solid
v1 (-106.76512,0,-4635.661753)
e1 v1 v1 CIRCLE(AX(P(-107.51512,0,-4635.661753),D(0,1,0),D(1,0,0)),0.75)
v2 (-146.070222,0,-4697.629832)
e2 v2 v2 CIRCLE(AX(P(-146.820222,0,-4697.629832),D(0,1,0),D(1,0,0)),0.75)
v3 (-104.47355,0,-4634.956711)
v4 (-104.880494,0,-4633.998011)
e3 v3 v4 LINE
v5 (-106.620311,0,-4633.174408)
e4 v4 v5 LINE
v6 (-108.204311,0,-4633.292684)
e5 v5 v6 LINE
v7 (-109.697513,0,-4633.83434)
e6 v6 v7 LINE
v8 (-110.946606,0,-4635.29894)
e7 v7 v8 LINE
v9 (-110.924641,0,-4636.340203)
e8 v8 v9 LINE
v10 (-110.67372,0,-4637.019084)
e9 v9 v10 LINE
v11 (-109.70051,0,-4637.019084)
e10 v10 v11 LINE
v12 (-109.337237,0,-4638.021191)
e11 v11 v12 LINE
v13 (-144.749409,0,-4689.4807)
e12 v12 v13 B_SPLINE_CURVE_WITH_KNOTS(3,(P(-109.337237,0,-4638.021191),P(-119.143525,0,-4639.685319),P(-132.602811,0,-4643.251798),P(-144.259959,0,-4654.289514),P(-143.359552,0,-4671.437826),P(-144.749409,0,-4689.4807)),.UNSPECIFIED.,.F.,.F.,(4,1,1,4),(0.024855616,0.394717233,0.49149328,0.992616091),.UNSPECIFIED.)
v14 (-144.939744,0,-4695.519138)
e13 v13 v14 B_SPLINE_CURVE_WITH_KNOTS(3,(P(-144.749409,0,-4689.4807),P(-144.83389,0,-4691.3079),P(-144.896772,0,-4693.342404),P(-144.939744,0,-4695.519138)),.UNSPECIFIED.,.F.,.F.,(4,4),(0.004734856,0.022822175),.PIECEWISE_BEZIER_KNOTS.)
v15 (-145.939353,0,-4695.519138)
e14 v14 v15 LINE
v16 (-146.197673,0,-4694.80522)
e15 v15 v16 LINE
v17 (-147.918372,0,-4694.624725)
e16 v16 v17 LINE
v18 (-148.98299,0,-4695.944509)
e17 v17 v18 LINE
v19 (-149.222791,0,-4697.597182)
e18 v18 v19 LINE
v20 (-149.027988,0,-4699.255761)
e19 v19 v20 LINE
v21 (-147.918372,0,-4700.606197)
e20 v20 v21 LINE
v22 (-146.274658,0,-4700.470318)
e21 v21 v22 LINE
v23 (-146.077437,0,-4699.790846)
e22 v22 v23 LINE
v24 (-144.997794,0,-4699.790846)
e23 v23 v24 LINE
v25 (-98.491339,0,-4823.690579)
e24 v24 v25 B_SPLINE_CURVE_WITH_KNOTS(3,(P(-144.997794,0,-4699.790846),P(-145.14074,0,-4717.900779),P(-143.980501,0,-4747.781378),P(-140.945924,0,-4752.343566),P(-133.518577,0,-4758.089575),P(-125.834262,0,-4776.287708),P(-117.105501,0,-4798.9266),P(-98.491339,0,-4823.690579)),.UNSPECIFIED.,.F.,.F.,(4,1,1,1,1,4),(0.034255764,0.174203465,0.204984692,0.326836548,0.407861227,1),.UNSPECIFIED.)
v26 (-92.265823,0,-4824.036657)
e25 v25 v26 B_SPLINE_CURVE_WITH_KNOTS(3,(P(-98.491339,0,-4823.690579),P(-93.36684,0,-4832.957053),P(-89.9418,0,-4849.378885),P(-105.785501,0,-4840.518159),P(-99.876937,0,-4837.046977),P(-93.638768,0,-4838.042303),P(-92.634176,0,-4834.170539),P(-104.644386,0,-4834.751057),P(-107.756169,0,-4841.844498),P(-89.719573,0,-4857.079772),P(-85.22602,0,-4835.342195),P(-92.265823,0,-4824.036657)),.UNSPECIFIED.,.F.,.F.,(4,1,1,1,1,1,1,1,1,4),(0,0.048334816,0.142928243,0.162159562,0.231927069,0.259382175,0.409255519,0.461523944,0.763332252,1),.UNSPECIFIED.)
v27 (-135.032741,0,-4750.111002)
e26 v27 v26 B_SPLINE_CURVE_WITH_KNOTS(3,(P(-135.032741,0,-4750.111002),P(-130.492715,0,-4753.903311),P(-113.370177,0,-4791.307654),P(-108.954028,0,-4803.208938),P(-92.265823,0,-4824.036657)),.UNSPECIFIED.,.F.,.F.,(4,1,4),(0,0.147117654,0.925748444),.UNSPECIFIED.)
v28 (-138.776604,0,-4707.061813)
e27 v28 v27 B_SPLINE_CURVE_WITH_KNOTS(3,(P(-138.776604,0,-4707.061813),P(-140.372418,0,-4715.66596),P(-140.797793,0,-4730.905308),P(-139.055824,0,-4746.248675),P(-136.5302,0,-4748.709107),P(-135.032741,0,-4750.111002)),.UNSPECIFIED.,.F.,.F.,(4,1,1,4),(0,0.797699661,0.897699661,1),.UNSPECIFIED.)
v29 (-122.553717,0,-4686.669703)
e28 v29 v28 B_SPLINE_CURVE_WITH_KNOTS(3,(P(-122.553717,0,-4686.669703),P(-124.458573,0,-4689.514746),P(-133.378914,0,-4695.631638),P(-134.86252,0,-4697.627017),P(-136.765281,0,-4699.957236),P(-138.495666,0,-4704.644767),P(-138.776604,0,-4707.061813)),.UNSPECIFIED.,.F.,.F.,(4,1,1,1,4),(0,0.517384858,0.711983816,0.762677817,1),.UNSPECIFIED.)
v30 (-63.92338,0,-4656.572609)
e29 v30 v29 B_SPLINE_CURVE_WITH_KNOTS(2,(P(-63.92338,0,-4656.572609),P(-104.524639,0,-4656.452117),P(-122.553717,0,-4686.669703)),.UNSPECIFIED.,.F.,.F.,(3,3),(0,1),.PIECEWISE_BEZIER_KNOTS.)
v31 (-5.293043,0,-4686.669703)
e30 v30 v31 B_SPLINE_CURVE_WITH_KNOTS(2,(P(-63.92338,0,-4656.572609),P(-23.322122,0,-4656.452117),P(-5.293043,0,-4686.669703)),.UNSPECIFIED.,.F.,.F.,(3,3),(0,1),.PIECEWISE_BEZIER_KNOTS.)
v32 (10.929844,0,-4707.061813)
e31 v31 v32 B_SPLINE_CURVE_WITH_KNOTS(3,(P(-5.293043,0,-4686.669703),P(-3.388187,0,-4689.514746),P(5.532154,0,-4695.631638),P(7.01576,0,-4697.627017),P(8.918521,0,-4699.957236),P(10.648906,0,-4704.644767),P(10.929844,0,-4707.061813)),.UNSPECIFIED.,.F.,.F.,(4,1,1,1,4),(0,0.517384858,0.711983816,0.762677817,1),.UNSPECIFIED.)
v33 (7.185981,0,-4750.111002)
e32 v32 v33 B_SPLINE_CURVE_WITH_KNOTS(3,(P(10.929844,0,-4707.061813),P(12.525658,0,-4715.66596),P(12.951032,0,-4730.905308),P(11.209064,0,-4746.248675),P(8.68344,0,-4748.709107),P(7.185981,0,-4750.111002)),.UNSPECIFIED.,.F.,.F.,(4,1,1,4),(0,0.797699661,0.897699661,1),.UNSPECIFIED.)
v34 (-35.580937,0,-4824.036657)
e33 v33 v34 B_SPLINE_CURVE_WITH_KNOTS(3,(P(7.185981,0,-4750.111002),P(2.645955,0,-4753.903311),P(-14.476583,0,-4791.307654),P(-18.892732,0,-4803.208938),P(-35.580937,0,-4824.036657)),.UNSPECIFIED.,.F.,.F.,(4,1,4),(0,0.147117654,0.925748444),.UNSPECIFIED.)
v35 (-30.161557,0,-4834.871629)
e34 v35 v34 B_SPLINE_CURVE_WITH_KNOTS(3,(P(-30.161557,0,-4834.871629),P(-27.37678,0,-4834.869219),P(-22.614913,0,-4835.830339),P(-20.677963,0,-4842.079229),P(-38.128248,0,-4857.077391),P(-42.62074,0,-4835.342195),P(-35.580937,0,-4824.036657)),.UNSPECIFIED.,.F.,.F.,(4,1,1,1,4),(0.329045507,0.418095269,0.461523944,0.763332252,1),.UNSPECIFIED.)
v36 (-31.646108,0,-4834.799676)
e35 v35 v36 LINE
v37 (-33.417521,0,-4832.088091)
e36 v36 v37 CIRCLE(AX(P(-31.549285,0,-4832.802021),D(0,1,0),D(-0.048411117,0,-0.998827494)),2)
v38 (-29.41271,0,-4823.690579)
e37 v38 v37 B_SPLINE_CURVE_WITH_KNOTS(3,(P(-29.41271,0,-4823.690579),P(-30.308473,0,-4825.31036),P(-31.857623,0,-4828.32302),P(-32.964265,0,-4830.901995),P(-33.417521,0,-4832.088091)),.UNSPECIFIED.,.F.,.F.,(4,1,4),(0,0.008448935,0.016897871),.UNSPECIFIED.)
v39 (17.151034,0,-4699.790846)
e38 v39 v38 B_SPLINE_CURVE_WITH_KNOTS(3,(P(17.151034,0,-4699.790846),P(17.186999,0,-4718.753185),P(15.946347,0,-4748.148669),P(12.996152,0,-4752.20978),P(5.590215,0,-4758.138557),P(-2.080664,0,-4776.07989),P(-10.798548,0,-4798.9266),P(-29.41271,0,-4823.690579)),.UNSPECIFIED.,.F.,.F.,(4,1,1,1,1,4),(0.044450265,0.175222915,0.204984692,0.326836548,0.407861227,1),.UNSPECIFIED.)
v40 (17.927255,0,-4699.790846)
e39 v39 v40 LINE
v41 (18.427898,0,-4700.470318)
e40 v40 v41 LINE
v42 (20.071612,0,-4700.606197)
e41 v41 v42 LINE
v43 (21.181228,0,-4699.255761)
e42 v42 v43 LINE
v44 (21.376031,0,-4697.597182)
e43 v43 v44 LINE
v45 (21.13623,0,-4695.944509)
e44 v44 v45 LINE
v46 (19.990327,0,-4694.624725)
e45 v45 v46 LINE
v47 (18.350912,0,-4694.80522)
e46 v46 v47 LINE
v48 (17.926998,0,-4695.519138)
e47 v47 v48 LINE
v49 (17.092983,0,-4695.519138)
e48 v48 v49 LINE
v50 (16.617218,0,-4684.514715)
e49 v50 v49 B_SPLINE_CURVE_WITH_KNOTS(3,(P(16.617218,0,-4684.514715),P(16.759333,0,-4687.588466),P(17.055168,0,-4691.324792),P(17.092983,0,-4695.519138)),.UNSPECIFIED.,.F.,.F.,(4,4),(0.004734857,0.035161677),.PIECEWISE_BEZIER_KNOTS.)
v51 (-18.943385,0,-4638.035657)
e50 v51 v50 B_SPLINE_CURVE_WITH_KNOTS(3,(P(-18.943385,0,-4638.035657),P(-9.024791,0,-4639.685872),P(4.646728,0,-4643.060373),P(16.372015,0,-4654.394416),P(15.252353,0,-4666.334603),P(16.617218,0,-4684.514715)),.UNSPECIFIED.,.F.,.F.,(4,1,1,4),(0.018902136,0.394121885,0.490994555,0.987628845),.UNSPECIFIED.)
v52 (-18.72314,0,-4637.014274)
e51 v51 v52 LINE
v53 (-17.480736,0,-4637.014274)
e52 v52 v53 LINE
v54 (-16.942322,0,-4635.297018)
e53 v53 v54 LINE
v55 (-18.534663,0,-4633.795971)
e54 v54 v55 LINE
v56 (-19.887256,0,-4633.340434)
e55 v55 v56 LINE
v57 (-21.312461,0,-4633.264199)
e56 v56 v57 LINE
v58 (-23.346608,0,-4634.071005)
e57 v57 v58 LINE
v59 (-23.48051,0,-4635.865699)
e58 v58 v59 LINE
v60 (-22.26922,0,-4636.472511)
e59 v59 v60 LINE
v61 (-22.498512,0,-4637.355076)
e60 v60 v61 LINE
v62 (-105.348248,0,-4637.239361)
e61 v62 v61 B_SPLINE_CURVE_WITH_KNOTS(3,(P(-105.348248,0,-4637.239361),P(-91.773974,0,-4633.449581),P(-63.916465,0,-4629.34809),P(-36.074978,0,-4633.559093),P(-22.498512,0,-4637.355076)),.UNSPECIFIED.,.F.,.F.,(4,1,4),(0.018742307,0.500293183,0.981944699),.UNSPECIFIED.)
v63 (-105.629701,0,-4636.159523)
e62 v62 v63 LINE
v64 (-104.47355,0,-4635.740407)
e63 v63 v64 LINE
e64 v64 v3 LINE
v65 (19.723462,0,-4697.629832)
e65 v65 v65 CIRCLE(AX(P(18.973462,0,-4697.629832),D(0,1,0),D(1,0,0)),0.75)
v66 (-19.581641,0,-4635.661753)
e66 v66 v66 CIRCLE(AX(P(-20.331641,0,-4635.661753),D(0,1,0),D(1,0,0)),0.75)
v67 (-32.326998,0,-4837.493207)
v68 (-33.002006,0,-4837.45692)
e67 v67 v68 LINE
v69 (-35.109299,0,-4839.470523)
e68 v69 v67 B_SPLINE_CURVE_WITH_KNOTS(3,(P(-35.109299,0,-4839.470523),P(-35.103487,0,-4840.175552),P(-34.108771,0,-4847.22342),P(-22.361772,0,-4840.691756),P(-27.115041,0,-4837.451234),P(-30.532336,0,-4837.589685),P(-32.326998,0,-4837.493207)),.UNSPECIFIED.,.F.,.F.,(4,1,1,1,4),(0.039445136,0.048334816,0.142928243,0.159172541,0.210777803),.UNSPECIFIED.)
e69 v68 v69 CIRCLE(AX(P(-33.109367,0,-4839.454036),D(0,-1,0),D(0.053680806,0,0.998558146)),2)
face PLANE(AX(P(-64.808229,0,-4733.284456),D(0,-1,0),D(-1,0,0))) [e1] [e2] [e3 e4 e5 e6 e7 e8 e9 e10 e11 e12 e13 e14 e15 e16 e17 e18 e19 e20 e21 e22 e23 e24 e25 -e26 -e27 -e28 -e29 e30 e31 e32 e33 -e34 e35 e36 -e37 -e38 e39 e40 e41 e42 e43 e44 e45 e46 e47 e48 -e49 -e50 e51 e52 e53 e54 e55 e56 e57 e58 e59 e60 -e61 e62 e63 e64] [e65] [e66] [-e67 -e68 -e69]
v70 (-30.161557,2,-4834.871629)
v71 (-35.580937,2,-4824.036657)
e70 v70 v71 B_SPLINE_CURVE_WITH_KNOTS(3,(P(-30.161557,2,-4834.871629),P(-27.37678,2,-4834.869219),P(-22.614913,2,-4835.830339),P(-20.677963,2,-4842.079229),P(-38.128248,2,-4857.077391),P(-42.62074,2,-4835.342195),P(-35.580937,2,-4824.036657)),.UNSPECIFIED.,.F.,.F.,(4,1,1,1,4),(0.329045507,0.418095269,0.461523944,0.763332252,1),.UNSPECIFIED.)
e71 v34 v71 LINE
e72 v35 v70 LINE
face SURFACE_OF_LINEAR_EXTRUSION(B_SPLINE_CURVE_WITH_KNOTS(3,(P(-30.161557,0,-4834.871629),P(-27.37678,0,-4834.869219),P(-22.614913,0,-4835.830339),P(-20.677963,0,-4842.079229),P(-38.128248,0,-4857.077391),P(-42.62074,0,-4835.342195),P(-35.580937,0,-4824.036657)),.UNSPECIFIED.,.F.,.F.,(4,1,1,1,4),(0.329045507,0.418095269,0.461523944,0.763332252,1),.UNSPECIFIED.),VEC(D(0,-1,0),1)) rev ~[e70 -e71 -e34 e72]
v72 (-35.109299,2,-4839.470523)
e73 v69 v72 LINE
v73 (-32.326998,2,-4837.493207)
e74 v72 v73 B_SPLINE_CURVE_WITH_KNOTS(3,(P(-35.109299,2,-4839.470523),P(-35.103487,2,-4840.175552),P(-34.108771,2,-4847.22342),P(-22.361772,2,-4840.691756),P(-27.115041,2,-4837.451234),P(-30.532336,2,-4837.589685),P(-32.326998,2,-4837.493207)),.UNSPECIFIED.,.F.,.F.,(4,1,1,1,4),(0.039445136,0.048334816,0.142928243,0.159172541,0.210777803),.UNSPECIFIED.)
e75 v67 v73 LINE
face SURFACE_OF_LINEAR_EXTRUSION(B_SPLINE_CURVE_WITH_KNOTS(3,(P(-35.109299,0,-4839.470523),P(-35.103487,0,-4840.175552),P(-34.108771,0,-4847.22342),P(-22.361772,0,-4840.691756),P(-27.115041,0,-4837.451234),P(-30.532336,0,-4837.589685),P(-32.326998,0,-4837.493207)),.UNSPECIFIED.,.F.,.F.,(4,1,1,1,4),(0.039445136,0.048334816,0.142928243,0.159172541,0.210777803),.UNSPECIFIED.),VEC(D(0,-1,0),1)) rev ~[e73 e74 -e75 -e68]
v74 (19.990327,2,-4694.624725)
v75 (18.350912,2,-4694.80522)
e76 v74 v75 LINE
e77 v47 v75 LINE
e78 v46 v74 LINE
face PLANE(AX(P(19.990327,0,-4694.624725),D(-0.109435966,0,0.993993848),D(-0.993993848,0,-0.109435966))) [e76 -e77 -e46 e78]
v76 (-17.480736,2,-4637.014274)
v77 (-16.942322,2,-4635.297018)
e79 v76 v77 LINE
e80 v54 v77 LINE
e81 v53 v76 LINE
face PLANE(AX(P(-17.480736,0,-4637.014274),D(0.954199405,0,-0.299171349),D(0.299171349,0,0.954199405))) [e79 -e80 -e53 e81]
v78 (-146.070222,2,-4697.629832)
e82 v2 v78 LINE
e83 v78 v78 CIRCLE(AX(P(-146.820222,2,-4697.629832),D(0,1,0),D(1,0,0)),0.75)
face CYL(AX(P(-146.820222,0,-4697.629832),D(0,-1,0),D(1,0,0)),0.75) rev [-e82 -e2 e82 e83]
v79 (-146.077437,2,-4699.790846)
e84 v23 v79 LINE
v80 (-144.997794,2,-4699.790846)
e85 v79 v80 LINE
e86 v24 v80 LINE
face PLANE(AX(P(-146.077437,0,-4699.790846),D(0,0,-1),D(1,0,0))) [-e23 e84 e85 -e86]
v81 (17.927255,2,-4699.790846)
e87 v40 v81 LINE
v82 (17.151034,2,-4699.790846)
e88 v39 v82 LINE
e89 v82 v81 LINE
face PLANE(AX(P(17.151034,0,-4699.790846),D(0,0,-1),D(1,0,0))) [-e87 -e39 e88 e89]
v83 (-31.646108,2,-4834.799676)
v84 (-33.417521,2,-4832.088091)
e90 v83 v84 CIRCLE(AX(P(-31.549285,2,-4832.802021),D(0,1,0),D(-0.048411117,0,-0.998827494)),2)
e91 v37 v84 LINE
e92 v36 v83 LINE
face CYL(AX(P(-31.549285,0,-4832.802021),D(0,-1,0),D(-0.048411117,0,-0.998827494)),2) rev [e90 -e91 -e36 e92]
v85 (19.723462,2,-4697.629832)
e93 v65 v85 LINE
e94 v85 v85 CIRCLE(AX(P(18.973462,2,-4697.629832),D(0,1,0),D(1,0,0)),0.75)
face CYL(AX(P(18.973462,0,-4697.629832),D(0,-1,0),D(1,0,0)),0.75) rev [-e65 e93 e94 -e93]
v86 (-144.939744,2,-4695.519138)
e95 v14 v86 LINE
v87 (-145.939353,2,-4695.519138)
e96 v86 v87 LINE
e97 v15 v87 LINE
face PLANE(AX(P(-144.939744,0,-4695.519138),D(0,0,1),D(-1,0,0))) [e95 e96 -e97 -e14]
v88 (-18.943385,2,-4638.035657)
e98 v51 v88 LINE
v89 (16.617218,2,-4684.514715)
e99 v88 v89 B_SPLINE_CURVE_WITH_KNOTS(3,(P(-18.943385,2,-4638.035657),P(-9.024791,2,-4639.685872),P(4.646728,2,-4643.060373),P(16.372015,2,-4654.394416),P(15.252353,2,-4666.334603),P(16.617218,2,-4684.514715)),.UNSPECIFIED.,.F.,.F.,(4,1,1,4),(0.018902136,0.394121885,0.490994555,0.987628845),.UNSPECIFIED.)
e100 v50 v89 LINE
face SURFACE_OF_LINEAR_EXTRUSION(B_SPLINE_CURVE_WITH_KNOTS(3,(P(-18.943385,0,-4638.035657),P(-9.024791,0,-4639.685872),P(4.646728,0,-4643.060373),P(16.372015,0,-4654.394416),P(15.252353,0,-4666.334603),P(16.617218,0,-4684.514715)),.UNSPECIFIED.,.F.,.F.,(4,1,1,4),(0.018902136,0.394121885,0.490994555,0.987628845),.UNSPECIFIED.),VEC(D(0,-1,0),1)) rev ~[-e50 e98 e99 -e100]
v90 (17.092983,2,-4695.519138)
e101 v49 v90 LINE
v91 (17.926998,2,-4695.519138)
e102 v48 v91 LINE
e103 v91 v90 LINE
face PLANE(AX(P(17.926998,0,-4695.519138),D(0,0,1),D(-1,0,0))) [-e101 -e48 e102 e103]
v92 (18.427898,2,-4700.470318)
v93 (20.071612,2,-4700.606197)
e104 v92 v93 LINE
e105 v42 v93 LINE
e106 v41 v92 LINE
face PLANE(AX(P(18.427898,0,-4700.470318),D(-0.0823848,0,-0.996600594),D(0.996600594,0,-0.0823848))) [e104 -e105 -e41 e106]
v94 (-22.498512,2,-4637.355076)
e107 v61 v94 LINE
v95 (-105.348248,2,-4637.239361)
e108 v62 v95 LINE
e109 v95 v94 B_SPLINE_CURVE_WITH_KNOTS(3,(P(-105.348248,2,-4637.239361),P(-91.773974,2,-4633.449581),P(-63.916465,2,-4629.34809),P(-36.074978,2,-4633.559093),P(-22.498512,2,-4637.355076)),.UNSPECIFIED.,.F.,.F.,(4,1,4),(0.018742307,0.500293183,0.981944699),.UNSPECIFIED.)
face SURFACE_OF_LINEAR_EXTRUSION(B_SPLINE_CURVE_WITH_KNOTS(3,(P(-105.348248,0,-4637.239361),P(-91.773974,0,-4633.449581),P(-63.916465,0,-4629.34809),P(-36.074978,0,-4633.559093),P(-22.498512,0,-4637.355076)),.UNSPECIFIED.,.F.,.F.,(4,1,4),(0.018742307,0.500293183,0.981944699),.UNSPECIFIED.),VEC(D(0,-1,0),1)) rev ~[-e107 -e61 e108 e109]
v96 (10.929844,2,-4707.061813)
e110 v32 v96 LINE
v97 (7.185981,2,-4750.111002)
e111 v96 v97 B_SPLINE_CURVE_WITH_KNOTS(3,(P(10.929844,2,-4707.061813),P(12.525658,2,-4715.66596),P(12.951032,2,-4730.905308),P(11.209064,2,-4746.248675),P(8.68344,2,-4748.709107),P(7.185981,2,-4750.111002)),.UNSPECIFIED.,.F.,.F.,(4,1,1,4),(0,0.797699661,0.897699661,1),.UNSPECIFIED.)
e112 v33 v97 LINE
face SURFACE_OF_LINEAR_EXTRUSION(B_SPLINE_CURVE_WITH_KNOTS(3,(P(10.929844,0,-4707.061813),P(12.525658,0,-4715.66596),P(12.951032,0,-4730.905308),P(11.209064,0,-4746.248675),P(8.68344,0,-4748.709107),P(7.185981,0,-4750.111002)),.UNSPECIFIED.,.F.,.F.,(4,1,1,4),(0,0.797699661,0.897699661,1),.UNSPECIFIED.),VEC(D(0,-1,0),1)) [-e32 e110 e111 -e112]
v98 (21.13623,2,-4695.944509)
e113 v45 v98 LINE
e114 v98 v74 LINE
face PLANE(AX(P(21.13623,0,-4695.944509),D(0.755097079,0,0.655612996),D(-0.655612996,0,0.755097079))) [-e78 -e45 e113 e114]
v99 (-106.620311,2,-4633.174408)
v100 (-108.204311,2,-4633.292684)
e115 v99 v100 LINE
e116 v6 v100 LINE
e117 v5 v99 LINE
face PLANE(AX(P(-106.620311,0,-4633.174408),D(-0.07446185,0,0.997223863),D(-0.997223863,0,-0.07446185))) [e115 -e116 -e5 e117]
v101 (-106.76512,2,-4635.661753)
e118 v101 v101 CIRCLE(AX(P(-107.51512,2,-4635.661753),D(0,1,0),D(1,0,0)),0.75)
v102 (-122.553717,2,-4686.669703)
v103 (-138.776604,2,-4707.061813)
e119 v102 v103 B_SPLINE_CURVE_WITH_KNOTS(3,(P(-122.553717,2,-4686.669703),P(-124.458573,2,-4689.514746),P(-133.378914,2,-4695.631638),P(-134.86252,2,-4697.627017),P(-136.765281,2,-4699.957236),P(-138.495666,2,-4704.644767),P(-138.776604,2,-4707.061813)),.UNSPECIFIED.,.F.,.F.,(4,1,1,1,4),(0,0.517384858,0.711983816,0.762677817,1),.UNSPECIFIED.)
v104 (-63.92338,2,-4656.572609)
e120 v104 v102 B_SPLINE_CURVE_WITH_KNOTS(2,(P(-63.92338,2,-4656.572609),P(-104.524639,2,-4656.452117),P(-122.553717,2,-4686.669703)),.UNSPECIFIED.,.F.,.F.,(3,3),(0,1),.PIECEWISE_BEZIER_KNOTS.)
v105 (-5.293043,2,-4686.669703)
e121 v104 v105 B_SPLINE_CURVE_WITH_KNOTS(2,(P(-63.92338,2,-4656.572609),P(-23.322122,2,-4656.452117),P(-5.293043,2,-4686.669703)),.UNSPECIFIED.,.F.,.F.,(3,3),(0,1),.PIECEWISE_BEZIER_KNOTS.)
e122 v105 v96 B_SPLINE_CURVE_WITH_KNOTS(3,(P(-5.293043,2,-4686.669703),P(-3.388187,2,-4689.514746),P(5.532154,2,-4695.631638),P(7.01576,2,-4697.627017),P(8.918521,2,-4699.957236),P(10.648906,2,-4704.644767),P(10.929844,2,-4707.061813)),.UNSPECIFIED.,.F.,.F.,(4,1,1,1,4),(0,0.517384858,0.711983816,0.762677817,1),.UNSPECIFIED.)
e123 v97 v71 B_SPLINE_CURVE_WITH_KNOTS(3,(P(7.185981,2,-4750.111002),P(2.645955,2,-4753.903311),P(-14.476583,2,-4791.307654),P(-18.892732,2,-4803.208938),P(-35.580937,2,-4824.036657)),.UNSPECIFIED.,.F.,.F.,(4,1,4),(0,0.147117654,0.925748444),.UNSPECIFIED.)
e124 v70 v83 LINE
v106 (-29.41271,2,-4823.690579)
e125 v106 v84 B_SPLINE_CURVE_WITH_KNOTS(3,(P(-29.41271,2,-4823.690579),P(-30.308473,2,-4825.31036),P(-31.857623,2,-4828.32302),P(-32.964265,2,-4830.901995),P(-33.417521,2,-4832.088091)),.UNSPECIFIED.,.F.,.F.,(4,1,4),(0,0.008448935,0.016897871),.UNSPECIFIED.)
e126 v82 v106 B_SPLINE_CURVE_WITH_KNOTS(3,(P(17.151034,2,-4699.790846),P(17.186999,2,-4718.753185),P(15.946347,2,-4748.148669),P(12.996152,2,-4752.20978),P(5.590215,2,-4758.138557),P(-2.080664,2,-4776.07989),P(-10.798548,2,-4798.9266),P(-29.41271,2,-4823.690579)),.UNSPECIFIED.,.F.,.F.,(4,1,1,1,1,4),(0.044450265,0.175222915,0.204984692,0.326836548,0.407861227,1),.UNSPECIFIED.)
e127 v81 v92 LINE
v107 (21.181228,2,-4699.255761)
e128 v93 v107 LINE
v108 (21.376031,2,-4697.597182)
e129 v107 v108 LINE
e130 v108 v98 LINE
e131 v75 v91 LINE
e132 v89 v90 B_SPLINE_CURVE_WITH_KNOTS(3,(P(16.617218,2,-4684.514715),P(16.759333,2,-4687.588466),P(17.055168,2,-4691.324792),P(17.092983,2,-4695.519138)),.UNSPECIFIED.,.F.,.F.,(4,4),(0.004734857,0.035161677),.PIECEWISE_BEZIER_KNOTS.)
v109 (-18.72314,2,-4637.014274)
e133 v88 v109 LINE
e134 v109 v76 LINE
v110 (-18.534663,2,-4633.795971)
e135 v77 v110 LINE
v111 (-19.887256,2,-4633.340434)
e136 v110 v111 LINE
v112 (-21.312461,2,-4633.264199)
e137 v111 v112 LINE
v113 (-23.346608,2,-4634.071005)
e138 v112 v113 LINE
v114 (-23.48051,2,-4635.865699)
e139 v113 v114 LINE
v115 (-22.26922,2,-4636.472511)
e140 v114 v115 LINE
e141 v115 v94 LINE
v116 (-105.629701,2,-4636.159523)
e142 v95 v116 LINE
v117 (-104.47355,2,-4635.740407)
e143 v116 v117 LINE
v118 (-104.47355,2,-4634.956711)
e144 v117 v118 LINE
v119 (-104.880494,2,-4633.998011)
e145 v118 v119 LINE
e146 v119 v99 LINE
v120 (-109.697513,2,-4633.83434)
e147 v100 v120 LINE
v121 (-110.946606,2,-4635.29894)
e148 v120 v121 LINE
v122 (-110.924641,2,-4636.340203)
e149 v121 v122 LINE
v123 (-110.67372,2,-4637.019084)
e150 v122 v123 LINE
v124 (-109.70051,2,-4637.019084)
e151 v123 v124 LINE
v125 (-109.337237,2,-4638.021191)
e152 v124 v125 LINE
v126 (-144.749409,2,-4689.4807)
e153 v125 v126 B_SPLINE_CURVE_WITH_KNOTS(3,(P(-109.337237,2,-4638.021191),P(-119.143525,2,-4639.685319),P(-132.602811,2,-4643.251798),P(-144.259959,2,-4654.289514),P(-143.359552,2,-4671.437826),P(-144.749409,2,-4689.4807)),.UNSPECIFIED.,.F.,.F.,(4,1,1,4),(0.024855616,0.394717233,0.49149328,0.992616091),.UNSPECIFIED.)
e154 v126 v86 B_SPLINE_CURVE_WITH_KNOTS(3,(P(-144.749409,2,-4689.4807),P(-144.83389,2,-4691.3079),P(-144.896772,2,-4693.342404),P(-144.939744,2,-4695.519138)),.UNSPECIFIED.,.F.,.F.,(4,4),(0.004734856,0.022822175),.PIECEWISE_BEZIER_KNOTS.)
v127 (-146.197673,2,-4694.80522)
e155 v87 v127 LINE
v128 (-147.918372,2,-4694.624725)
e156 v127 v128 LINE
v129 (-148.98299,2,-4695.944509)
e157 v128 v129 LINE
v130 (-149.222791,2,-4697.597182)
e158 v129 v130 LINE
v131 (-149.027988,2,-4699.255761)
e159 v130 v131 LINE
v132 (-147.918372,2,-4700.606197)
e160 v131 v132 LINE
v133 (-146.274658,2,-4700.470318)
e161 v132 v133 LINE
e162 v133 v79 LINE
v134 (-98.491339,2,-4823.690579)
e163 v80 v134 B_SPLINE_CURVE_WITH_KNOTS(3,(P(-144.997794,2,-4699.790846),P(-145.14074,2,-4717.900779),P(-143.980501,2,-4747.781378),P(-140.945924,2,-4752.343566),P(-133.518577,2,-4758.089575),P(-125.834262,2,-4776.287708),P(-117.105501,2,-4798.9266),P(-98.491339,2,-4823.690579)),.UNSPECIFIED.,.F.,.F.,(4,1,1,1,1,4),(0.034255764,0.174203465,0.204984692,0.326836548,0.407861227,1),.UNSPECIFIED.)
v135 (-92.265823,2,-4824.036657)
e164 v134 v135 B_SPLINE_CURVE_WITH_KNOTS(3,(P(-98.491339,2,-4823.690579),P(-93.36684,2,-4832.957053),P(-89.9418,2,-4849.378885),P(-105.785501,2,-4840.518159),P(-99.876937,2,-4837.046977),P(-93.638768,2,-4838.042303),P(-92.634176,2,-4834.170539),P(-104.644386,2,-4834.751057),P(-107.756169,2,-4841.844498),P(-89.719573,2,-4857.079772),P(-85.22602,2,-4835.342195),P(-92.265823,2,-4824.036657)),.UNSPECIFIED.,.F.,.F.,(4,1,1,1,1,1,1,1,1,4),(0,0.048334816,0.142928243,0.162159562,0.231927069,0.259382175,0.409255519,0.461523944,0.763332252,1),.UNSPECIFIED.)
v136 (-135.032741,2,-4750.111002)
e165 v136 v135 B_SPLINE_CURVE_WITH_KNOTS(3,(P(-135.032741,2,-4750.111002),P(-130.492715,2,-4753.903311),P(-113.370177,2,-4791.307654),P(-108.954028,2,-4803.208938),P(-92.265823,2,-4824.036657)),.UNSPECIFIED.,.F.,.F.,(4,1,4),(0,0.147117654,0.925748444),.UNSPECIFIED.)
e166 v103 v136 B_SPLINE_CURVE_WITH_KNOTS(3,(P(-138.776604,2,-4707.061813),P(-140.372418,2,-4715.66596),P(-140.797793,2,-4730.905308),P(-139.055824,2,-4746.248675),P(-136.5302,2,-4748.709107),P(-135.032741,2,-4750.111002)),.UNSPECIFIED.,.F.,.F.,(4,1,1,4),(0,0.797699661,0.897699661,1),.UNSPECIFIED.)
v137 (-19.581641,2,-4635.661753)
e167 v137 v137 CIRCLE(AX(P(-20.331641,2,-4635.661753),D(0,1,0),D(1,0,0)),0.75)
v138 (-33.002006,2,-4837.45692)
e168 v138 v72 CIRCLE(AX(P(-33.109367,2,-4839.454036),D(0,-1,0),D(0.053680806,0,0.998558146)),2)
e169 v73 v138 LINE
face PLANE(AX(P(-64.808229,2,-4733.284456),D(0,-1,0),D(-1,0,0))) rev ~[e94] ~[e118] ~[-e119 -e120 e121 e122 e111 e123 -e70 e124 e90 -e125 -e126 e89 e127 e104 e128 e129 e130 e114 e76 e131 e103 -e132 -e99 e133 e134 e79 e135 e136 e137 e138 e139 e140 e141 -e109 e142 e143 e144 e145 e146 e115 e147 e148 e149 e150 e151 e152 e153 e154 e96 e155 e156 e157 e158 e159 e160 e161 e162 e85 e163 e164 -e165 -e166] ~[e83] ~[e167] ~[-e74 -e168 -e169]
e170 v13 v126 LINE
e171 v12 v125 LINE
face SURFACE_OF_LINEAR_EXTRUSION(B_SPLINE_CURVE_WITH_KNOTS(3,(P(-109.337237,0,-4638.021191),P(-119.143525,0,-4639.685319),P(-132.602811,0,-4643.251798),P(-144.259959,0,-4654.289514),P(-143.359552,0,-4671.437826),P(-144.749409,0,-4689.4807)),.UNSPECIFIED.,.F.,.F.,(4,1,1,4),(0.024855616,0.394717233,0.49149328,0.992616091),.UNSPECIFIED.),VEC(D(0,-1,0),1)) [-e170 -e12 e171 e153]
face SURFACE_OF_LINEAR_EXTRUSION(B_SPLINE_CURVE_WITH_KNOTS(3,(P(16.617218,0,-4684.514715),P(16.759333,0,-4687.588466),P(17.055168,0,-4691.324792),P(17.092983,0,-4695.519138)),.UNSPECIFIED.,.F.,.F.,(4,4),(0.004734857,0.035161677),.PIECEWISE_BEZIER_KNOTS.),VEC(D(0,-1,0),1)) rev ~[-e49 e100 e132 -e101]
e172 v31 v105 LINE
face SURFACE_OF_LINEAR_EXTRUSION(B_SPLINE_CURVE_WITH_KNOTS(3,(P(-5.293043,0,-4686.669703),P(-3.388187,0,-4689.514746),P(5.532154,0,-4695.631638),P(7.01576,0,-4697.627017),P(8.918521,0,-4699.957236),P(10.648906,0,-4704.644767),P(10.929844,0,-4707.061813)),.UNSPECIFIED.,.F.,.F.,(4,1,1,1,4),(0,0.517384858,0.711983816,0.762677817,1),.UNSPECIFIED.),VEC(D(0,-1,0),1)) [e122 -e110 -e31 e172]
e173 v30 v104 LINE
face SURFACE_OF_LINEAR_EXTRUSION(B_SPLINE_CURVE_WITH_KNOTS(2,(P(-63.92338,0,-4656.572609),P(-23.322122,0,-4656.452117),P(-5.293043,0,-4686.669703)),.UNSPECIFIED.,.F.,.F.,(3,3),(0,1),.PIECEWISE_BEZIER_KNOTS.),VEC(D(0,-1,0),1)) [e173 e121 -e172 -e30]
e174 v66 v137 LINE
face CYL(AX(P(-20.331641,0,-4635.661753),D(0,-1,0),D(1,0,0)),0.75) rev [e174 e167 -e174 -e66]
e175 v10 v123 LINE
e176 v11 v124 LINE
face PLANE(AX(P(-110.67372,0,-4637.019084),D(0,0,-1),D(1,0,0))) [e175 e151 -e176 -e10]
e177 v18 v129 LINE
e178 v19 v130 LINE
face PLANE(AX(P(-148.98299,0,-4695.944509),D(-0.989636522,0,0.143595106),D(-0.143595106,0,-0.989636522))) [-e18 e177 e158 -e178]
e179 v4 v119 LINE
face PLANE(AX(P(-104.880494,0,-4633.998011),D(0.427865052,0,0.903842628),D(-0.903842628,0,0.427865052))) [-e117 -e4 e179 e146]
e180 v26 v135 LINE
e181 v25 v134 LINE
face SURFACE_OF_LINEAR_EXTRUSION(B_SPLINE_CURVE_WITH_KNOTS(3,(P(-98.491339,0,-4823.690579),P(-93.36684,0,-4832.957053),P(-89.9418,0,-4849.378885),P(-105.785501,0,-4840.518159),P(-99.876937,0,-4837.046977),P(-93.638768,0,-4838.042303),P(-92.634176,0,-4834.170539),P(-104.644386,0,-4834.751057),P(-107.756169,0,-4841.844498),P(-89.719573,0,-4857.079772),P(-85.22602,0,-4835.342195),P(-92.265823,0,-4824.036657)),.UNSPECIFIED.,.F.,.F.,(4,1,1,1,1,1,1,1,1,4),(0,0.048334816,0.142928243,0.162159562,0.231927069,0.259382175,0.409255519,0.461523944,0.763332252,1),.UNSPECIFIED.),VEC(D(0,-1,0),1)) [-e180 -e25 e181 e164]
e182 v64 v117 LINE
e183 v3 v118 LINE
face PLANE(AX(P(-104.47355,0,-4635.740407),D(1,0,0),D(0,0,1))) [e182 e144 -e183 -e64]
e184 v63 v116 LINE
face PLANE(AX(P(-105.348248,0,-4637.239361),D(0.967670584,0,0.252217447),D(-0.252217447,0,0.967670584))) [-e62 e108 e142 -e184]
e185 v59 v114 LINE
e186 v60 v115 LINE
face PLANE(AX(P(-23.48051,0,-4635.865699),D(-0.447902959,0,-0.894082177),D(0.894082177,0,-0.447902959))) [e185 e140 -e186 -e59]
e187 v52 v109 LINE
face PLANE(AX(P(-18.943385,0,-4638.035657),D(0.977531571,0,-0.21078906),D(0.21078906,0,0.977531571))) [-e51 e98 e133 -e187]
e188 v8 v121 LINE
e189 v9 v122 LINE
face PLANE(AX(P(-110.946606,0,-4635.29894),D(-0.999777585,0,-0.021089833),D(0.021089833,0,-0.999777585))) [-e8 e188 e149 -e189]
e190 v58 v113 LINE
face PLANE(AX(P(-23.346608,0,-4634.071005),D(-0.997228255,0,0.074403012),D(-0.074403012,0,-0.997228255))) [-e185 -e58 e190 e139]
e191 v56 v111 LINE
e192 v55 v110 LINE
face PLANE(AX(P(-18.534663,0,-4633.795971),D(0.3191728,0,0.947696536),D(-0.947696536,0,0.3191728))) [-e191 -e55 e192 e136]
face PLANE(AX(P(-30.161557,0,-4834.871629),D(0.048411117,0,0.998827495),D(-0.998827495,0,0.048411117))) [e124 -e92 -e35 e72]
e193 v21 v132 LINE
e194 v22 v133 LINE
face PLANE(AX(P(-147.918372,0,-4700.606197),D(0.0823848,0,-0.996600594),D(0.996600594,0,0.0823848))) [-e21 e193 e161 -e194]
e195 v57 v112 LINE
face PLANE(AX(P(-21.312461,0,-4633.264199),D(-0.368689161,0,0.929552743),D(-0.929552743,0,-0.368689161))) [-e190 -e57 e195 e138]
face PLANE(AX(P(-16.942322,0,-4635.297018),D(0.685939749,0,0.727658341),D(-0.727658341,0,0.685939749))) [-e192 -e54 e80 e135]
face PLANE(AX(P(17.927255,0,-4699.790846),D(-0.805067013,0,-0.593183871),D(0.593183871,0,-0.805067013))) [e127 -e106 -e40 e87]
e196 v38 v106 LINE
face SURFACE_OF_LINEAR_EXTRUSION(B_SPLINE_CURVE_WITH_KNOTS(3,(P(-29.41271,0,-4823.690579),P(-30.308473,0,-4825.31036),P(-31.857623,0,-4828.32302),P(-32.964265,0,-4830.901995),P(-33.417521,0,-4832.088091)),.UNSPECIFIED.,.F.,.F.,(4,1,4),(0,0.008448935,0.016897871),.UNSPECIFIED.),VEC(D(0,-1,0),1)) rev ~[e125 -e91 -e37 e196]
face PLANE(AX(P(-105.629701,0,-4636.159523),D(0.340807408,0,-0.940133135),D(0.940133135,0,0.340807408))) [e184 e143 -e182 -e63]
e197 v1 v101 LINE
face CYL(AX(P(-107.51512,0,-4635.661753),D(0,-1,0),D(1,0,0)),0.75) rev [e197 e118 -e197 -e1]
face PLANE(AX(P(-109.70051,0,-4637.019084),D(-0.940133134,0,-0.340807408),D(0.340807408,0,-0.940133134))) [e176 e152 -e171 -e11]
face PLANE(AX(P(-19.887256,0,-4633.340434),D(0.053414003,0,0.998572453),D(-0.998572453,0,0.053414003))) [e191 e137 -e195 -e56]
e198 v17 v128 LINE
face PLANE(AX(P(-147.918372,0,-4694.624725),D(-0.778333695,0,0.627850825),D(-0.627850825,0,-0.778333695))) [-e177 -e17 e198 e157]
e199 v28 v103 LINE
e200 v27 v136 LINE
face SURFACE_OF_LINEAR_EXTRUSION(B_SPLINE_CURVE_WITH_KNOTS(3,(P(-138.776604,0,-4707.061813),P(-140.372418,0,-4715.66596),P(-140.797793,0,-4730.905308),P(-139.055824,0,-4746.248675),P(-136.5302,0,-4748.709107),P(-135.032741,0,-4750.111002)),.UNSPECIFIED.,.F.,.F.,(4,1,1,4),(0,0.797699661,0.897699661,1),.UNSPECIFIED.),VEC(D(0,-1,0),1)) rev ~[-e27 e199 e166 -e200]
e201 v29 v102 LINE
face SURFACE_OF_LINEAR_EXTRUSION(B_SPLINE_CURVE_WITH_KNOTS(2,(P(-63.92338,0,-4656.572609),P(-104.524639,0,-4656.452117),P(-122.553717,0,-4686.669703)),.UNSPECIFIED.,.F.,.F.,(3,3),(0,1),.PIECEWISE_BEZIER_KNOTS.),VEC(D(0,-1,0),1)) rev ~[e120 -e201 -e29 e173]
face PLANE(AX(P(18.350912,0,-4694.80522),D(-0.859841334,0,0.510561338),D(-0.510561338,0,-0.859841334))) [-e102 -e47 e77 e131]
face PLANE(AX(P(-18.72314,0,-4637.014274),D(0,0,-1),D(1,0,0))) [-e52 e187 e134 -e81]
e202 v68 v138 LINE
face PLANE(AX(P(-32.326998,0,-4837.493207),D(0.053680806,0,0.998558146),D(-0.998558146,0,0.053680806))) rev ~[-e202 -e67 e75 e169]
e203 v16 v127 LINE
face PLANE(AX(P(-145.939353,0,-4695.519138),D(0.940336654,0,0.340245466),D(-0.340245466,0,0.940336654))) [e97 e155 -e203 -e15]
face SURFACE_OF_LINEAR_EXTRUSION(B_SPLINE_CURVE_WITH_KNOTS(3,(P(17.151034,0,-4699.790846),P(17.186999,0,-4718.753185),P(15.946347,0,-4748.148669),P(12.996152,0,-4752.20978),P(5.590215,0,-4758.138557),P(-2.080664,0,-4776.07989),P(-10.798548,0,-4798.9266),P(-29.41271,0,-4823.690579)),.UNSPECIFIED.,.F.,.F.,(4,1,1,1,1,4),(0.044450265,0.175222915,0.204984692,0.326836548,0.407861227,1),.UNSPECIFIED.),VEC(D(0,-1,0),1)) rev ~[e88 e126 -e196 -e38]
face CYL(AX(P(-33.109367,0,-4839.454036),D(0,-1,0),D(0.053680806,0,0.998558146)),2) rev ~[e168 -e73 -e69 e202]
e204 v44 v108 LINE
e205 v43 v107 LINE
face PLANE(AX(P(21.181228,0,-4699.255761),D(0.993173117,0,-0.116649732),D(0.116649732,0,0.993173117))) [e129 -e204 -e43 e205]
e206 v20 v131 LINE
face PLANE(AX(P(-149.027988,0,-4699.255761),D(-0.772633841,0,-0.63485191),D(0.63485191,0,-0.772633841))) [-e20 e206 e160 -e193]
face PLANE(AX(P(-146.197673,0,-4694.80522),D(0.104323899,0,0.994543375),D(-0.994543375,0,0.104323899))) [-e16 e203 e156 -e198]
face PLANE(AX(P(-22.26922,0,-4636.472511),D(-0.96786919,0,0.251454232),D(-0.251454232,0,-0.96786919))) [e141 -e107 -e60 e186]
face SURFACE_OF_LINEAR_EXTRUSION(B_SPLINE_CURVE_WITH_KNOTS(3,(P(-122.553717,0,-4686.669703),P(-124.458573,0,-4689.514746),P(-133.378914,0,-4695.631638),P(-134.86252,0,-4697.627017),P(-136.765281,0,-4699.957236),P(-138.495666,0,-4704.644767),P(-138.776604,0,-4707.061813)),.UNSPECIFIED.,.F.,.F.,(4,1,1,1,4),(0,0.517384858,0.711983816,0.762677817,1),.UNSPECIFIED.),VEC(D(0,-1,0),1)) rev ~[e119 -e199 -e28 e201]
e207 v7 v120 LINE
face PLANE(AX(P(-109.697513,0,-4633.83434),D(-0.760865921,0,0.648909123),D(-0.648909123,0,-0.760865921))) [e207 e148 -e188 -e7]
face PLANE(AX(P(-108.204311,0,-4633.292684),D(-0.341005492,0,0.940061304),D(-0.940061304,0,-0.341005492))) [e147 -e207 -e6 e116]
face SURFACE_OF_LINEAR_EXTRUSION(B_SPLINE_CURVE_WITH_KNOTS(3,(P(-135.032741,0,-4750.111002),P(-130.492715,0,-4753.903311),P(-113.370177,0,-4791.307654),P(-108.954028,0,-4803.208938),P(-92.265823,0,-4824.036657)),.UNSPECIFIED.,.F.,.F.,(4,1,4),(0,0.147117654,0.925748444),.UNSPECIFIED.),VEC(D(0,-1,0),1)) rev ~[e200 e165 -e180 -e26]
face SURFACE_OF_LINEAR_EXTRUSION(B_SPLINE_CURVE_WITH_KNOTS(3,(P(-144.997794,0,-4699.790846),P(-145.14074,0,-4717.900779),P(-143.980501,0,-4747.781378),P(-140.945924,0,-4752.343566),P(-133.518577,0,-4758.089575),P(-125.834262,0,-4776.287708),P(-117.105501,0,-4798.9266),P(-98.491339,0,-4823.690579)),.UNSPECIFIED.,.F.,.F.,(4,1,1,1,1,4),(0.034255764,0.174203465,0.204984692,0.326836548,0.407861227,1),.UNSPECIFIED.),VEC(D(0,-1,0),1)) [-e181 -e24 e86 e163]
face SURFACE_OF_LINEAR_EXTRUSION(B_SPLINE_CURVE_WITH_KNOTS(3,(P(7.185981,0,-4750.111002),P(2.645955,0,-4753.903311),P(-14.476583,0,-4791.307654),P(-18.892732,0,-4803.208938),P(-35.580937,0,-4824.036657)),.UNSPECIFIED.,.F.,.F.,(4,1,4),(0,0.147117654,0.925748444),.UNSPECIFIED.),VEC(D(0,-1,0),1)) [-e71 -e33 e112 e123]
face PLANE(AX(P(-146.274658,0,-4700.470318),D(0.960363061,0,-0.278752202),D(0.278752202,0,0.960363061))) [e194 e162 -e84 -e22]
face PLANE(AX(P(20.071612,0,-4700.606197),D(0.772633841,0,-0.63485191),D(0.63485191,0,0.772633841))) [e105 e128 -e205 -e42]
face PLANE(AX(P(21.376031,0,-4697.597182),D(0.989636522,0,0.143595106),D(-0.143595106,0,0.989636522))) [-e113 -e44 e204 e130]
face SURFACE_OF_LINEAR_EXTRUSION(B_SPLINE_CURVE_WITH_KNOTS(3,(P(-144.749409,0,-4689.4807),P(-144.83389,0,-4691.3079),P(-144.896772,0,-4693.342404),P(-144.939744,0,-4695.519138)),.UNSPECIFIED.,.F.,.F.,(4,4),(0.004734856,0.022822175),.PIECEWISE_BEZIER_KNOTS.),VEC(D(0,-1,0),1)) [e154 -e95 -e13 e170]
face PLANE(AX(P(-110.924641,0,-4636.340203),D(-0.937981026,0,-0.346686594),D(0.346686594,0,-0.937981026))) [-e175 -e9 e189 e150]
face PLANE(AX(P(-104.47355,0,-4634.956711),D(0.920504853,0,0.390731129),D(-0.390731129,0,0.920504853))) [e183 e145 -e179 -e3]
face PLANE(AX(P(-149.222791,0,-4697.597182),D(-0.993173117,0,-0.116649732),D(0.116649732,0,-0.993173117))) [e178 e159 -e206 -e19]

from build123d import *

# Parameters (mm, degrees)
SKETCH2_R           = 0.75
BOSS_EXTRUDE2_DEPTH = 2


with BuildPart() as part:
    # Sketch2 → Boss-Extrude2 (new body)
    with BuildSketch(Plane(origin=(0, 0, 0), x_dir=(1, 0, 0), z_dir=(0, 1, 0))):
        with BuildLine():
            Line((-16.94232243, 4635.297018365), (-18.534662591, 4633.795971308))
            Line((-18.534662591, 4633.795971308), (-19.887255597, 4633.340434244))
            Line((-19.887255597, 4633.340434244), (-21.312460887, 4633.264199495))
            Line((-21.312460887, 4633.264199495), (-23.346608072, 4634.07100473))
            Line((-23.346608072, 4634.07100473), (-23.480509856, 4635.86569876))
            Line((-23.480509856, 4635.86569876), (-22.26922003, 4636.472511323))
            Line((-22.26922003, 4636.472511323), (-22.498511996, 4637.355076027))
            add(Edge.make_bspline(
                [(-105.348248264, 4637.239361207), (-91.773973611, 4633.449581192), (-63.91646452, 4629.348089946), (-36.074978393, 4633.559092847), (-22.498511996, 4637.355076027)],
                knots=[0.018742307, 0.018742307, 0.018742307, 0.018742307, 0.500293183, 0.981944699, 0.981944699, 0.981944699, 0.981944699], degree=3))
            Line((-105.348248264, 4637.239361207), (-105.629701484, 4636.159523134))
            Line((-105.629701484, 4636.159523134), (-104.473549573, 4635.740406818))
            Line((-104.473549573, 4635.740406818), (-104.473549573, 4634.956711321))
            Line((-104.473549573, 4634.956711321), (-104.880493791, 4633.998010823))
            Line((-104.880493791, 4633.998010823), (-106.620311483, 4633.174408169))
            Line((-106.620311483, 4633.174408169), (-108.20431104, 4633.292684057))
            Line((-108.20431104, 4633.292684057), (-109.697513062, 4633.834340317))
            Line((-109.697513062, 4633.834340317), (-110.946606143, 4635.298940402))
            Line((-110.946606143, 4635.298940402), (-110.924641203, 4636.340202994))
            Line((-110.924641203, 4636.340202994), (-110.673720292, 4637.019084317))
            Line((-110.673720292, 4637.019084317), (-109.700510236, 4637.019084317))
            Line((-109.700510236, 4637.019084317), (-109.337236897, 4638.021190769))
            add(Edge.make_bspline(
                [(-109.337236897, 4638.021190769), (-119.14352525, 4639.685319313), (-132.602811475, 4643.251798031), (-144.259959312, 4654.289514228), (-143.359552227, 4671.437825607), (-144.749408582, 4689.48069966)],
                knots=[0.024855616, 0.024855616, 0.024855616, 0.024855616, 0.394717233, 0.49149328, 0.992616091, 0.992616091, 0.992616091, 0.992616091], degree=3))
            add(Edge.make_bspline(
                [(-144.749408582, 4689.48069966), (-144.833889745, 4691.307900212), (-144.896771823, 4693.342403801), (-144.93974364, 4695.519138342)],
                knots=[0.004734856, 0.004734856, 0.004734856, 0.004734856, 0.022822175, 0.022822175, 0.022822175, 0.022822175], degree=3))
            Line((-144.93974364, 4695.519138342), (-145.939352996, 4695.519138342))
            Line((-145.939352996, 4695.519138342), (-146.197672667, 4694.80522007))
            Line((-146.197672667, 4694.80522007), (-147.918372484, 4694.624725063))
            Line((-147.918372484, 4694.624725063), (-148.98298998, 4695.944509376))
            Line((-148.98298998, 4695.944509376), (-149.222790895, 4697.597182293))
            Line((-149.222790895, 4697.597182293), (-149.027988208, 4699.255761252))
            Line((-149.027988208, 4699.255761252), (-147.918372484, 4700.606196913))
            Line((-147.918372484, 4700.606196913), (-146.274658466, 4700.470317954))
            Line((-146.274658466, 4700.470317954), (-146.077436972, 4699.790846236))
            Line((-146.077436972, 4699.790846236), (-144.997793977, 4699.790846236))
            add(Edge.make_bspline(
                [(-144.997793977, 4699.790846236), (-145.140739705, 4717.900779), (-143.980500661, 4747.781377705), (-140.945923977, 4752.343565924), (-133.518576886, 4758.089574725), (-125.834261615, 4776.287708079), (-117.105500852, 4798.926600097), (-98.491339322, 4823.690578863)],
                knots=[0.034255764, 0.034255764, 0.034255764, 0.034255764, 0.174203465, 0.204984692, 0.326836548, 0.407861227, 1, 1, 1, 1], degree=3))
            add(Edge.make_bspline(
                [(-98.491339322, 4823.690578863), (-93.366839688, 4832.95705297), (-89.941800493, 4849.378885104), (-105.785500967, 4840.51815915), (-99.876937155, 4837.046976634), (-93.638768067, 4838.042303186), (-92.634176249, 4834.170539469), (-104.644385531, 4834.751057475), (-107.756168887, 4841.844497822), (-89.719573279, 4857.079771819), (-85.226019927, 4835.342195387), (-92.265822948, 4824.036656848)],
                knots=[0, 0, 0, 0, 0.048334816, 0.142928243, 0.162159562, 0.231927069, 0.259382175, 0.409255519, 0.461523944, 0.763332252, 1, 1, 1, 1], degree=3))
            add(Edge.make_bspline(
                [(-135.032740768, 4750.111001922), (-130.492715197, 4753.903311112), (-113.370176945, 4791.307654005), (-108.954027961, 4803.20893759), (-92.265822948, 4824.036656848)],
                knots=[0, 0, 0, 0, 0.147117654, 0.925748444, 0.925748444, 0.925748444, 0.925748444], degree=3))
            add(Edge.make_bspline(
                [(-138.776603849, 4707.061813065), (-140.372417965, 4715.665959829), (-140.797792532, 4730.905308146), (-139.055824108, 4746.24867545), (-136.530200286, 4748.70910668), (-135.032740768, 4750.111001922)],
                knots=[0, 0, 0, 0, 0.797699661, 0.897699661, 1, 1, 1, 1], degree=3))
            add(Edge.make_bspline(
                [(-122.553716851, 4686.669702846), (-124.458572981, 4689.514746254), (-133.378914312, 4695.631638467), (-134.862520268, 4697.627016687), (-136.765281392, 4699.957235784), (-138.495666225, 4704.644766972), (-138.776603849, 4707.061813065)],
                knots=[0, 0, 0, 0, 0.517384858, 0.711983816, 0.762677817, 1, 1, 1, 1], degree=3))
            add(Edge.make_bspline(
                [(-63.92338013, 4656.572608608), (-104.524638736, 4656.452117341), (-122.553716851, 4686.669702846)],
                knots=[0, 0, 0, 1, 1, 1], degree=2))
            add(Edge.make_bspline(
                [(-63.92338013, 4656.572608608), (-23.322121525, 4656.452117341), (-5.29304341, 4686.669702846)],
                knots=[0, 0, 0, 1, 1, 1], degree=2))
            add(Edge.make_bspline(
                [(-5.29304341, 4686.669702846), (-3.38818728, 4689.514746254), (5.532154051, 4695.631638467), (7.015760007, 4697.627016687), (8.918521131, 4699.957235784), (10.648905964, 4704.644766972), (10.929843589, 4707.061813065)],
                knots=[0, 0, 0, 0, 0.517384858, 0.711983816, 0.762677817, 1, 1, 1, 1], degree=3))
            add(Edge.make_bspline(
                [(10.929843589, 4707.061813065), (12.525657705, 4715.665959829), (12.951032272, 4730.905308146), (11.209063847, 4746.24867545), (8.683440025, 4748.70910668), (7.185980508, 4750.111001922)],
                knots=[0, 0, 0, 0, 0.797699661, 0.897699661, 1, 1, 1, 1], degree=3))
            add(Edge.make_bspline(
                [(7.185980508, 4750.111001922), (2.645954936, 4753.903311112), (-14.476583316, 4791.307654005), (-18.8927323, 4803.20893759), (-35.580937313, 4824.036656848)],
                knots=[0, 0, 0, 0, 0.147117654, 0.925748444, 0.925748444, 0.925748444, 0.925748444], degree=3))
            add(Edge.make_bspline(
                [(-30.16155738, 4834.871628771), (-27.376780391, 4834.869219449), (-22.614912719, 4835.830338941), (-20.677963293, 4842.07922902), (-38.128247821, 4857.07739084), (-42.620740333, 4835.342195387), (-35.580937313, 4824.036656848)],
                knots=[0.329045507, 0.329045507, 0.329045507, 0.329045507, 0.418095269, 0.461523944, 0.763332252, 1, 1, 1, 1], degree=3))
            Line((-30.16155738, 4834.871628771), (-31.646107508, 4834.799675676))
            ThreePointArc((-31.646107508, 4834.799675676), (-33.223661528, 4833.895850729), (-33.417520966, 4832.088091138))
            add(Edge.make_bspline(
                [(-29.412709692, 4823.690578863), (-30.308473234, 4825.310360357), (-31.857622797, 4828.323020224), (-32.964264892, 4830.901994868), (-33.417520966, 4832.088091138)],
                knots=[0, 0, 0, 0, 0.008448935, 0.016897871, 0.016897871, 0.016897871, 0.016897871], degree=3))
            add(Edge.make_bspline(
                [(17.151033717, 4699.790846236), (17.186998591, 4718.753185432), (15.946347275, 4748.148669169), (12.996152442, 4752.2097804), (5.590214635, 4758.138556503), (-2.080663876, 4776.079890469), (-10.798548161, 4798.926600097), (-29.412709692, 4823.690578863)],
                knots=[0.044450265, 0.044450265, 0.044450265, 0.044450265, 0.175222915, 0.204984692, 0.326836548, 0.407861227, 1, 1, 1, 1], degree=3))
            Line((17.151033717, 4699.790846236), (17.927254585, 4699.790846236))
            Line((17.927254585, 4699.790846236), (18.427898205, 4700.470317954))
            Line((18.427898205, 4700.470317954), (20.071612224, 4700.606196913))
            Line((20.071612224, 4700.606196913), (21.181227948, 4699.255761252))
            Line((21.181227948, 4699.255761252), (21.376030634, 4697.597182293))
            Line((21.376030634, 4697.597182293), (21.136229719, 4695.944509376))
            Line((21.136229719, 4695.944509376), (19.990327064, 4694.624725063))
            Line((19.990327064, 4694.624725063), (18.350912407, 4694.80522007))
            Line((18.350912407, 4694.80522007), (17.926998071, 4695.519138342))
            Line((17.926998071, 4695.519138342), (17.092983379, 4695.519138342))
            add(Edge.make_bspline(
                [(16.61721801, 4684.514714632), (16.759333405, 4687.588466409), (17.055168032, 4691.324791696), (17.092983379, 4695.519138342)],
                knots=[0.004734857, 0.004734857, 0.004734857, 0.004734857, 0.035161677, 0.035161677, 0.035161677, 0.035161677], degree=3))
            add(Edge.make_bspline(
                [(-18.943384636, 4638.035656948), (-9.024791136, 4639.685871765), (4.646728482, 4643.060373116), (16.372015333, 4654.394416396), (15.252352932, 4666.334603474), (16.61721801, 4684.514714632)],
                knots=[0.018902136, 0.018902136, 0.018902136, 0.018902136, 0.394121885, 0.490994555, 0.987628845, 0.987628845, 0.987628845, 0.987628845], degree=3))
            Line((-18.943384636, 4638.035656948), (-18.723139757, 4637.014274136))
            Line((-18.723139757, 4637.014274136), (-17.480735808, 4637.014274136))
            Line((-17.480735808, 4637.014274136), (-16.94232243, 4635.297018365))
        make_face()
        with Locations((-20.331640643, 4635.661753265)):
            Circle(SKETCH2_R, mode=Mode.SUBTRACT)
        with Locations((-107.515119617, 4635.661753265)):
            Circle(SKETCH2_R, mode=Mode.SUBTRACT)
        with Locations((18.97346222, 4697.629831976)):
            Circle(SKETCH2_R, mode=Mode.SUBTRACT)
        with Locations((-146.82022248, 4697.629831976)):
            Circle(SKETCH2_R, mode=Mode.SUBTRACT)
        with BuildLine():
            Line((-32.326997859, 4837.493206847), (-33.002005847, 4837.456919553))
            ThreePointArc((-33.002005847, 4837.456919553), (-34.491071441, 4838.008043416), (-35.109299497, 4839.470523475))
            add(Edge.make_bspline(
                [(-35.109299497, 4839.470523475), (-35.103487171, 4840.17555248), (-34.108770825, 4847.223419654), (-22.361772328, 4840.691756076), (-27.115040709, 4837.451233562), (-30.532335901, 4837.589684854), (-32.326997859, 4837.493206847)],
                knots=[0.039445136, 0.039445136, 0.039445136, 0.039445136, 0.048334816, 0.142928243, 0.159172541, 0.210777803, 0.210777803, 0.210777803, 0.210777803], degree=3))
        make_face(mode=Mode.SUBTRACT)
    extrude(amount=BOSS_EXTRUDE2_DEPTH)


solid = part.part
